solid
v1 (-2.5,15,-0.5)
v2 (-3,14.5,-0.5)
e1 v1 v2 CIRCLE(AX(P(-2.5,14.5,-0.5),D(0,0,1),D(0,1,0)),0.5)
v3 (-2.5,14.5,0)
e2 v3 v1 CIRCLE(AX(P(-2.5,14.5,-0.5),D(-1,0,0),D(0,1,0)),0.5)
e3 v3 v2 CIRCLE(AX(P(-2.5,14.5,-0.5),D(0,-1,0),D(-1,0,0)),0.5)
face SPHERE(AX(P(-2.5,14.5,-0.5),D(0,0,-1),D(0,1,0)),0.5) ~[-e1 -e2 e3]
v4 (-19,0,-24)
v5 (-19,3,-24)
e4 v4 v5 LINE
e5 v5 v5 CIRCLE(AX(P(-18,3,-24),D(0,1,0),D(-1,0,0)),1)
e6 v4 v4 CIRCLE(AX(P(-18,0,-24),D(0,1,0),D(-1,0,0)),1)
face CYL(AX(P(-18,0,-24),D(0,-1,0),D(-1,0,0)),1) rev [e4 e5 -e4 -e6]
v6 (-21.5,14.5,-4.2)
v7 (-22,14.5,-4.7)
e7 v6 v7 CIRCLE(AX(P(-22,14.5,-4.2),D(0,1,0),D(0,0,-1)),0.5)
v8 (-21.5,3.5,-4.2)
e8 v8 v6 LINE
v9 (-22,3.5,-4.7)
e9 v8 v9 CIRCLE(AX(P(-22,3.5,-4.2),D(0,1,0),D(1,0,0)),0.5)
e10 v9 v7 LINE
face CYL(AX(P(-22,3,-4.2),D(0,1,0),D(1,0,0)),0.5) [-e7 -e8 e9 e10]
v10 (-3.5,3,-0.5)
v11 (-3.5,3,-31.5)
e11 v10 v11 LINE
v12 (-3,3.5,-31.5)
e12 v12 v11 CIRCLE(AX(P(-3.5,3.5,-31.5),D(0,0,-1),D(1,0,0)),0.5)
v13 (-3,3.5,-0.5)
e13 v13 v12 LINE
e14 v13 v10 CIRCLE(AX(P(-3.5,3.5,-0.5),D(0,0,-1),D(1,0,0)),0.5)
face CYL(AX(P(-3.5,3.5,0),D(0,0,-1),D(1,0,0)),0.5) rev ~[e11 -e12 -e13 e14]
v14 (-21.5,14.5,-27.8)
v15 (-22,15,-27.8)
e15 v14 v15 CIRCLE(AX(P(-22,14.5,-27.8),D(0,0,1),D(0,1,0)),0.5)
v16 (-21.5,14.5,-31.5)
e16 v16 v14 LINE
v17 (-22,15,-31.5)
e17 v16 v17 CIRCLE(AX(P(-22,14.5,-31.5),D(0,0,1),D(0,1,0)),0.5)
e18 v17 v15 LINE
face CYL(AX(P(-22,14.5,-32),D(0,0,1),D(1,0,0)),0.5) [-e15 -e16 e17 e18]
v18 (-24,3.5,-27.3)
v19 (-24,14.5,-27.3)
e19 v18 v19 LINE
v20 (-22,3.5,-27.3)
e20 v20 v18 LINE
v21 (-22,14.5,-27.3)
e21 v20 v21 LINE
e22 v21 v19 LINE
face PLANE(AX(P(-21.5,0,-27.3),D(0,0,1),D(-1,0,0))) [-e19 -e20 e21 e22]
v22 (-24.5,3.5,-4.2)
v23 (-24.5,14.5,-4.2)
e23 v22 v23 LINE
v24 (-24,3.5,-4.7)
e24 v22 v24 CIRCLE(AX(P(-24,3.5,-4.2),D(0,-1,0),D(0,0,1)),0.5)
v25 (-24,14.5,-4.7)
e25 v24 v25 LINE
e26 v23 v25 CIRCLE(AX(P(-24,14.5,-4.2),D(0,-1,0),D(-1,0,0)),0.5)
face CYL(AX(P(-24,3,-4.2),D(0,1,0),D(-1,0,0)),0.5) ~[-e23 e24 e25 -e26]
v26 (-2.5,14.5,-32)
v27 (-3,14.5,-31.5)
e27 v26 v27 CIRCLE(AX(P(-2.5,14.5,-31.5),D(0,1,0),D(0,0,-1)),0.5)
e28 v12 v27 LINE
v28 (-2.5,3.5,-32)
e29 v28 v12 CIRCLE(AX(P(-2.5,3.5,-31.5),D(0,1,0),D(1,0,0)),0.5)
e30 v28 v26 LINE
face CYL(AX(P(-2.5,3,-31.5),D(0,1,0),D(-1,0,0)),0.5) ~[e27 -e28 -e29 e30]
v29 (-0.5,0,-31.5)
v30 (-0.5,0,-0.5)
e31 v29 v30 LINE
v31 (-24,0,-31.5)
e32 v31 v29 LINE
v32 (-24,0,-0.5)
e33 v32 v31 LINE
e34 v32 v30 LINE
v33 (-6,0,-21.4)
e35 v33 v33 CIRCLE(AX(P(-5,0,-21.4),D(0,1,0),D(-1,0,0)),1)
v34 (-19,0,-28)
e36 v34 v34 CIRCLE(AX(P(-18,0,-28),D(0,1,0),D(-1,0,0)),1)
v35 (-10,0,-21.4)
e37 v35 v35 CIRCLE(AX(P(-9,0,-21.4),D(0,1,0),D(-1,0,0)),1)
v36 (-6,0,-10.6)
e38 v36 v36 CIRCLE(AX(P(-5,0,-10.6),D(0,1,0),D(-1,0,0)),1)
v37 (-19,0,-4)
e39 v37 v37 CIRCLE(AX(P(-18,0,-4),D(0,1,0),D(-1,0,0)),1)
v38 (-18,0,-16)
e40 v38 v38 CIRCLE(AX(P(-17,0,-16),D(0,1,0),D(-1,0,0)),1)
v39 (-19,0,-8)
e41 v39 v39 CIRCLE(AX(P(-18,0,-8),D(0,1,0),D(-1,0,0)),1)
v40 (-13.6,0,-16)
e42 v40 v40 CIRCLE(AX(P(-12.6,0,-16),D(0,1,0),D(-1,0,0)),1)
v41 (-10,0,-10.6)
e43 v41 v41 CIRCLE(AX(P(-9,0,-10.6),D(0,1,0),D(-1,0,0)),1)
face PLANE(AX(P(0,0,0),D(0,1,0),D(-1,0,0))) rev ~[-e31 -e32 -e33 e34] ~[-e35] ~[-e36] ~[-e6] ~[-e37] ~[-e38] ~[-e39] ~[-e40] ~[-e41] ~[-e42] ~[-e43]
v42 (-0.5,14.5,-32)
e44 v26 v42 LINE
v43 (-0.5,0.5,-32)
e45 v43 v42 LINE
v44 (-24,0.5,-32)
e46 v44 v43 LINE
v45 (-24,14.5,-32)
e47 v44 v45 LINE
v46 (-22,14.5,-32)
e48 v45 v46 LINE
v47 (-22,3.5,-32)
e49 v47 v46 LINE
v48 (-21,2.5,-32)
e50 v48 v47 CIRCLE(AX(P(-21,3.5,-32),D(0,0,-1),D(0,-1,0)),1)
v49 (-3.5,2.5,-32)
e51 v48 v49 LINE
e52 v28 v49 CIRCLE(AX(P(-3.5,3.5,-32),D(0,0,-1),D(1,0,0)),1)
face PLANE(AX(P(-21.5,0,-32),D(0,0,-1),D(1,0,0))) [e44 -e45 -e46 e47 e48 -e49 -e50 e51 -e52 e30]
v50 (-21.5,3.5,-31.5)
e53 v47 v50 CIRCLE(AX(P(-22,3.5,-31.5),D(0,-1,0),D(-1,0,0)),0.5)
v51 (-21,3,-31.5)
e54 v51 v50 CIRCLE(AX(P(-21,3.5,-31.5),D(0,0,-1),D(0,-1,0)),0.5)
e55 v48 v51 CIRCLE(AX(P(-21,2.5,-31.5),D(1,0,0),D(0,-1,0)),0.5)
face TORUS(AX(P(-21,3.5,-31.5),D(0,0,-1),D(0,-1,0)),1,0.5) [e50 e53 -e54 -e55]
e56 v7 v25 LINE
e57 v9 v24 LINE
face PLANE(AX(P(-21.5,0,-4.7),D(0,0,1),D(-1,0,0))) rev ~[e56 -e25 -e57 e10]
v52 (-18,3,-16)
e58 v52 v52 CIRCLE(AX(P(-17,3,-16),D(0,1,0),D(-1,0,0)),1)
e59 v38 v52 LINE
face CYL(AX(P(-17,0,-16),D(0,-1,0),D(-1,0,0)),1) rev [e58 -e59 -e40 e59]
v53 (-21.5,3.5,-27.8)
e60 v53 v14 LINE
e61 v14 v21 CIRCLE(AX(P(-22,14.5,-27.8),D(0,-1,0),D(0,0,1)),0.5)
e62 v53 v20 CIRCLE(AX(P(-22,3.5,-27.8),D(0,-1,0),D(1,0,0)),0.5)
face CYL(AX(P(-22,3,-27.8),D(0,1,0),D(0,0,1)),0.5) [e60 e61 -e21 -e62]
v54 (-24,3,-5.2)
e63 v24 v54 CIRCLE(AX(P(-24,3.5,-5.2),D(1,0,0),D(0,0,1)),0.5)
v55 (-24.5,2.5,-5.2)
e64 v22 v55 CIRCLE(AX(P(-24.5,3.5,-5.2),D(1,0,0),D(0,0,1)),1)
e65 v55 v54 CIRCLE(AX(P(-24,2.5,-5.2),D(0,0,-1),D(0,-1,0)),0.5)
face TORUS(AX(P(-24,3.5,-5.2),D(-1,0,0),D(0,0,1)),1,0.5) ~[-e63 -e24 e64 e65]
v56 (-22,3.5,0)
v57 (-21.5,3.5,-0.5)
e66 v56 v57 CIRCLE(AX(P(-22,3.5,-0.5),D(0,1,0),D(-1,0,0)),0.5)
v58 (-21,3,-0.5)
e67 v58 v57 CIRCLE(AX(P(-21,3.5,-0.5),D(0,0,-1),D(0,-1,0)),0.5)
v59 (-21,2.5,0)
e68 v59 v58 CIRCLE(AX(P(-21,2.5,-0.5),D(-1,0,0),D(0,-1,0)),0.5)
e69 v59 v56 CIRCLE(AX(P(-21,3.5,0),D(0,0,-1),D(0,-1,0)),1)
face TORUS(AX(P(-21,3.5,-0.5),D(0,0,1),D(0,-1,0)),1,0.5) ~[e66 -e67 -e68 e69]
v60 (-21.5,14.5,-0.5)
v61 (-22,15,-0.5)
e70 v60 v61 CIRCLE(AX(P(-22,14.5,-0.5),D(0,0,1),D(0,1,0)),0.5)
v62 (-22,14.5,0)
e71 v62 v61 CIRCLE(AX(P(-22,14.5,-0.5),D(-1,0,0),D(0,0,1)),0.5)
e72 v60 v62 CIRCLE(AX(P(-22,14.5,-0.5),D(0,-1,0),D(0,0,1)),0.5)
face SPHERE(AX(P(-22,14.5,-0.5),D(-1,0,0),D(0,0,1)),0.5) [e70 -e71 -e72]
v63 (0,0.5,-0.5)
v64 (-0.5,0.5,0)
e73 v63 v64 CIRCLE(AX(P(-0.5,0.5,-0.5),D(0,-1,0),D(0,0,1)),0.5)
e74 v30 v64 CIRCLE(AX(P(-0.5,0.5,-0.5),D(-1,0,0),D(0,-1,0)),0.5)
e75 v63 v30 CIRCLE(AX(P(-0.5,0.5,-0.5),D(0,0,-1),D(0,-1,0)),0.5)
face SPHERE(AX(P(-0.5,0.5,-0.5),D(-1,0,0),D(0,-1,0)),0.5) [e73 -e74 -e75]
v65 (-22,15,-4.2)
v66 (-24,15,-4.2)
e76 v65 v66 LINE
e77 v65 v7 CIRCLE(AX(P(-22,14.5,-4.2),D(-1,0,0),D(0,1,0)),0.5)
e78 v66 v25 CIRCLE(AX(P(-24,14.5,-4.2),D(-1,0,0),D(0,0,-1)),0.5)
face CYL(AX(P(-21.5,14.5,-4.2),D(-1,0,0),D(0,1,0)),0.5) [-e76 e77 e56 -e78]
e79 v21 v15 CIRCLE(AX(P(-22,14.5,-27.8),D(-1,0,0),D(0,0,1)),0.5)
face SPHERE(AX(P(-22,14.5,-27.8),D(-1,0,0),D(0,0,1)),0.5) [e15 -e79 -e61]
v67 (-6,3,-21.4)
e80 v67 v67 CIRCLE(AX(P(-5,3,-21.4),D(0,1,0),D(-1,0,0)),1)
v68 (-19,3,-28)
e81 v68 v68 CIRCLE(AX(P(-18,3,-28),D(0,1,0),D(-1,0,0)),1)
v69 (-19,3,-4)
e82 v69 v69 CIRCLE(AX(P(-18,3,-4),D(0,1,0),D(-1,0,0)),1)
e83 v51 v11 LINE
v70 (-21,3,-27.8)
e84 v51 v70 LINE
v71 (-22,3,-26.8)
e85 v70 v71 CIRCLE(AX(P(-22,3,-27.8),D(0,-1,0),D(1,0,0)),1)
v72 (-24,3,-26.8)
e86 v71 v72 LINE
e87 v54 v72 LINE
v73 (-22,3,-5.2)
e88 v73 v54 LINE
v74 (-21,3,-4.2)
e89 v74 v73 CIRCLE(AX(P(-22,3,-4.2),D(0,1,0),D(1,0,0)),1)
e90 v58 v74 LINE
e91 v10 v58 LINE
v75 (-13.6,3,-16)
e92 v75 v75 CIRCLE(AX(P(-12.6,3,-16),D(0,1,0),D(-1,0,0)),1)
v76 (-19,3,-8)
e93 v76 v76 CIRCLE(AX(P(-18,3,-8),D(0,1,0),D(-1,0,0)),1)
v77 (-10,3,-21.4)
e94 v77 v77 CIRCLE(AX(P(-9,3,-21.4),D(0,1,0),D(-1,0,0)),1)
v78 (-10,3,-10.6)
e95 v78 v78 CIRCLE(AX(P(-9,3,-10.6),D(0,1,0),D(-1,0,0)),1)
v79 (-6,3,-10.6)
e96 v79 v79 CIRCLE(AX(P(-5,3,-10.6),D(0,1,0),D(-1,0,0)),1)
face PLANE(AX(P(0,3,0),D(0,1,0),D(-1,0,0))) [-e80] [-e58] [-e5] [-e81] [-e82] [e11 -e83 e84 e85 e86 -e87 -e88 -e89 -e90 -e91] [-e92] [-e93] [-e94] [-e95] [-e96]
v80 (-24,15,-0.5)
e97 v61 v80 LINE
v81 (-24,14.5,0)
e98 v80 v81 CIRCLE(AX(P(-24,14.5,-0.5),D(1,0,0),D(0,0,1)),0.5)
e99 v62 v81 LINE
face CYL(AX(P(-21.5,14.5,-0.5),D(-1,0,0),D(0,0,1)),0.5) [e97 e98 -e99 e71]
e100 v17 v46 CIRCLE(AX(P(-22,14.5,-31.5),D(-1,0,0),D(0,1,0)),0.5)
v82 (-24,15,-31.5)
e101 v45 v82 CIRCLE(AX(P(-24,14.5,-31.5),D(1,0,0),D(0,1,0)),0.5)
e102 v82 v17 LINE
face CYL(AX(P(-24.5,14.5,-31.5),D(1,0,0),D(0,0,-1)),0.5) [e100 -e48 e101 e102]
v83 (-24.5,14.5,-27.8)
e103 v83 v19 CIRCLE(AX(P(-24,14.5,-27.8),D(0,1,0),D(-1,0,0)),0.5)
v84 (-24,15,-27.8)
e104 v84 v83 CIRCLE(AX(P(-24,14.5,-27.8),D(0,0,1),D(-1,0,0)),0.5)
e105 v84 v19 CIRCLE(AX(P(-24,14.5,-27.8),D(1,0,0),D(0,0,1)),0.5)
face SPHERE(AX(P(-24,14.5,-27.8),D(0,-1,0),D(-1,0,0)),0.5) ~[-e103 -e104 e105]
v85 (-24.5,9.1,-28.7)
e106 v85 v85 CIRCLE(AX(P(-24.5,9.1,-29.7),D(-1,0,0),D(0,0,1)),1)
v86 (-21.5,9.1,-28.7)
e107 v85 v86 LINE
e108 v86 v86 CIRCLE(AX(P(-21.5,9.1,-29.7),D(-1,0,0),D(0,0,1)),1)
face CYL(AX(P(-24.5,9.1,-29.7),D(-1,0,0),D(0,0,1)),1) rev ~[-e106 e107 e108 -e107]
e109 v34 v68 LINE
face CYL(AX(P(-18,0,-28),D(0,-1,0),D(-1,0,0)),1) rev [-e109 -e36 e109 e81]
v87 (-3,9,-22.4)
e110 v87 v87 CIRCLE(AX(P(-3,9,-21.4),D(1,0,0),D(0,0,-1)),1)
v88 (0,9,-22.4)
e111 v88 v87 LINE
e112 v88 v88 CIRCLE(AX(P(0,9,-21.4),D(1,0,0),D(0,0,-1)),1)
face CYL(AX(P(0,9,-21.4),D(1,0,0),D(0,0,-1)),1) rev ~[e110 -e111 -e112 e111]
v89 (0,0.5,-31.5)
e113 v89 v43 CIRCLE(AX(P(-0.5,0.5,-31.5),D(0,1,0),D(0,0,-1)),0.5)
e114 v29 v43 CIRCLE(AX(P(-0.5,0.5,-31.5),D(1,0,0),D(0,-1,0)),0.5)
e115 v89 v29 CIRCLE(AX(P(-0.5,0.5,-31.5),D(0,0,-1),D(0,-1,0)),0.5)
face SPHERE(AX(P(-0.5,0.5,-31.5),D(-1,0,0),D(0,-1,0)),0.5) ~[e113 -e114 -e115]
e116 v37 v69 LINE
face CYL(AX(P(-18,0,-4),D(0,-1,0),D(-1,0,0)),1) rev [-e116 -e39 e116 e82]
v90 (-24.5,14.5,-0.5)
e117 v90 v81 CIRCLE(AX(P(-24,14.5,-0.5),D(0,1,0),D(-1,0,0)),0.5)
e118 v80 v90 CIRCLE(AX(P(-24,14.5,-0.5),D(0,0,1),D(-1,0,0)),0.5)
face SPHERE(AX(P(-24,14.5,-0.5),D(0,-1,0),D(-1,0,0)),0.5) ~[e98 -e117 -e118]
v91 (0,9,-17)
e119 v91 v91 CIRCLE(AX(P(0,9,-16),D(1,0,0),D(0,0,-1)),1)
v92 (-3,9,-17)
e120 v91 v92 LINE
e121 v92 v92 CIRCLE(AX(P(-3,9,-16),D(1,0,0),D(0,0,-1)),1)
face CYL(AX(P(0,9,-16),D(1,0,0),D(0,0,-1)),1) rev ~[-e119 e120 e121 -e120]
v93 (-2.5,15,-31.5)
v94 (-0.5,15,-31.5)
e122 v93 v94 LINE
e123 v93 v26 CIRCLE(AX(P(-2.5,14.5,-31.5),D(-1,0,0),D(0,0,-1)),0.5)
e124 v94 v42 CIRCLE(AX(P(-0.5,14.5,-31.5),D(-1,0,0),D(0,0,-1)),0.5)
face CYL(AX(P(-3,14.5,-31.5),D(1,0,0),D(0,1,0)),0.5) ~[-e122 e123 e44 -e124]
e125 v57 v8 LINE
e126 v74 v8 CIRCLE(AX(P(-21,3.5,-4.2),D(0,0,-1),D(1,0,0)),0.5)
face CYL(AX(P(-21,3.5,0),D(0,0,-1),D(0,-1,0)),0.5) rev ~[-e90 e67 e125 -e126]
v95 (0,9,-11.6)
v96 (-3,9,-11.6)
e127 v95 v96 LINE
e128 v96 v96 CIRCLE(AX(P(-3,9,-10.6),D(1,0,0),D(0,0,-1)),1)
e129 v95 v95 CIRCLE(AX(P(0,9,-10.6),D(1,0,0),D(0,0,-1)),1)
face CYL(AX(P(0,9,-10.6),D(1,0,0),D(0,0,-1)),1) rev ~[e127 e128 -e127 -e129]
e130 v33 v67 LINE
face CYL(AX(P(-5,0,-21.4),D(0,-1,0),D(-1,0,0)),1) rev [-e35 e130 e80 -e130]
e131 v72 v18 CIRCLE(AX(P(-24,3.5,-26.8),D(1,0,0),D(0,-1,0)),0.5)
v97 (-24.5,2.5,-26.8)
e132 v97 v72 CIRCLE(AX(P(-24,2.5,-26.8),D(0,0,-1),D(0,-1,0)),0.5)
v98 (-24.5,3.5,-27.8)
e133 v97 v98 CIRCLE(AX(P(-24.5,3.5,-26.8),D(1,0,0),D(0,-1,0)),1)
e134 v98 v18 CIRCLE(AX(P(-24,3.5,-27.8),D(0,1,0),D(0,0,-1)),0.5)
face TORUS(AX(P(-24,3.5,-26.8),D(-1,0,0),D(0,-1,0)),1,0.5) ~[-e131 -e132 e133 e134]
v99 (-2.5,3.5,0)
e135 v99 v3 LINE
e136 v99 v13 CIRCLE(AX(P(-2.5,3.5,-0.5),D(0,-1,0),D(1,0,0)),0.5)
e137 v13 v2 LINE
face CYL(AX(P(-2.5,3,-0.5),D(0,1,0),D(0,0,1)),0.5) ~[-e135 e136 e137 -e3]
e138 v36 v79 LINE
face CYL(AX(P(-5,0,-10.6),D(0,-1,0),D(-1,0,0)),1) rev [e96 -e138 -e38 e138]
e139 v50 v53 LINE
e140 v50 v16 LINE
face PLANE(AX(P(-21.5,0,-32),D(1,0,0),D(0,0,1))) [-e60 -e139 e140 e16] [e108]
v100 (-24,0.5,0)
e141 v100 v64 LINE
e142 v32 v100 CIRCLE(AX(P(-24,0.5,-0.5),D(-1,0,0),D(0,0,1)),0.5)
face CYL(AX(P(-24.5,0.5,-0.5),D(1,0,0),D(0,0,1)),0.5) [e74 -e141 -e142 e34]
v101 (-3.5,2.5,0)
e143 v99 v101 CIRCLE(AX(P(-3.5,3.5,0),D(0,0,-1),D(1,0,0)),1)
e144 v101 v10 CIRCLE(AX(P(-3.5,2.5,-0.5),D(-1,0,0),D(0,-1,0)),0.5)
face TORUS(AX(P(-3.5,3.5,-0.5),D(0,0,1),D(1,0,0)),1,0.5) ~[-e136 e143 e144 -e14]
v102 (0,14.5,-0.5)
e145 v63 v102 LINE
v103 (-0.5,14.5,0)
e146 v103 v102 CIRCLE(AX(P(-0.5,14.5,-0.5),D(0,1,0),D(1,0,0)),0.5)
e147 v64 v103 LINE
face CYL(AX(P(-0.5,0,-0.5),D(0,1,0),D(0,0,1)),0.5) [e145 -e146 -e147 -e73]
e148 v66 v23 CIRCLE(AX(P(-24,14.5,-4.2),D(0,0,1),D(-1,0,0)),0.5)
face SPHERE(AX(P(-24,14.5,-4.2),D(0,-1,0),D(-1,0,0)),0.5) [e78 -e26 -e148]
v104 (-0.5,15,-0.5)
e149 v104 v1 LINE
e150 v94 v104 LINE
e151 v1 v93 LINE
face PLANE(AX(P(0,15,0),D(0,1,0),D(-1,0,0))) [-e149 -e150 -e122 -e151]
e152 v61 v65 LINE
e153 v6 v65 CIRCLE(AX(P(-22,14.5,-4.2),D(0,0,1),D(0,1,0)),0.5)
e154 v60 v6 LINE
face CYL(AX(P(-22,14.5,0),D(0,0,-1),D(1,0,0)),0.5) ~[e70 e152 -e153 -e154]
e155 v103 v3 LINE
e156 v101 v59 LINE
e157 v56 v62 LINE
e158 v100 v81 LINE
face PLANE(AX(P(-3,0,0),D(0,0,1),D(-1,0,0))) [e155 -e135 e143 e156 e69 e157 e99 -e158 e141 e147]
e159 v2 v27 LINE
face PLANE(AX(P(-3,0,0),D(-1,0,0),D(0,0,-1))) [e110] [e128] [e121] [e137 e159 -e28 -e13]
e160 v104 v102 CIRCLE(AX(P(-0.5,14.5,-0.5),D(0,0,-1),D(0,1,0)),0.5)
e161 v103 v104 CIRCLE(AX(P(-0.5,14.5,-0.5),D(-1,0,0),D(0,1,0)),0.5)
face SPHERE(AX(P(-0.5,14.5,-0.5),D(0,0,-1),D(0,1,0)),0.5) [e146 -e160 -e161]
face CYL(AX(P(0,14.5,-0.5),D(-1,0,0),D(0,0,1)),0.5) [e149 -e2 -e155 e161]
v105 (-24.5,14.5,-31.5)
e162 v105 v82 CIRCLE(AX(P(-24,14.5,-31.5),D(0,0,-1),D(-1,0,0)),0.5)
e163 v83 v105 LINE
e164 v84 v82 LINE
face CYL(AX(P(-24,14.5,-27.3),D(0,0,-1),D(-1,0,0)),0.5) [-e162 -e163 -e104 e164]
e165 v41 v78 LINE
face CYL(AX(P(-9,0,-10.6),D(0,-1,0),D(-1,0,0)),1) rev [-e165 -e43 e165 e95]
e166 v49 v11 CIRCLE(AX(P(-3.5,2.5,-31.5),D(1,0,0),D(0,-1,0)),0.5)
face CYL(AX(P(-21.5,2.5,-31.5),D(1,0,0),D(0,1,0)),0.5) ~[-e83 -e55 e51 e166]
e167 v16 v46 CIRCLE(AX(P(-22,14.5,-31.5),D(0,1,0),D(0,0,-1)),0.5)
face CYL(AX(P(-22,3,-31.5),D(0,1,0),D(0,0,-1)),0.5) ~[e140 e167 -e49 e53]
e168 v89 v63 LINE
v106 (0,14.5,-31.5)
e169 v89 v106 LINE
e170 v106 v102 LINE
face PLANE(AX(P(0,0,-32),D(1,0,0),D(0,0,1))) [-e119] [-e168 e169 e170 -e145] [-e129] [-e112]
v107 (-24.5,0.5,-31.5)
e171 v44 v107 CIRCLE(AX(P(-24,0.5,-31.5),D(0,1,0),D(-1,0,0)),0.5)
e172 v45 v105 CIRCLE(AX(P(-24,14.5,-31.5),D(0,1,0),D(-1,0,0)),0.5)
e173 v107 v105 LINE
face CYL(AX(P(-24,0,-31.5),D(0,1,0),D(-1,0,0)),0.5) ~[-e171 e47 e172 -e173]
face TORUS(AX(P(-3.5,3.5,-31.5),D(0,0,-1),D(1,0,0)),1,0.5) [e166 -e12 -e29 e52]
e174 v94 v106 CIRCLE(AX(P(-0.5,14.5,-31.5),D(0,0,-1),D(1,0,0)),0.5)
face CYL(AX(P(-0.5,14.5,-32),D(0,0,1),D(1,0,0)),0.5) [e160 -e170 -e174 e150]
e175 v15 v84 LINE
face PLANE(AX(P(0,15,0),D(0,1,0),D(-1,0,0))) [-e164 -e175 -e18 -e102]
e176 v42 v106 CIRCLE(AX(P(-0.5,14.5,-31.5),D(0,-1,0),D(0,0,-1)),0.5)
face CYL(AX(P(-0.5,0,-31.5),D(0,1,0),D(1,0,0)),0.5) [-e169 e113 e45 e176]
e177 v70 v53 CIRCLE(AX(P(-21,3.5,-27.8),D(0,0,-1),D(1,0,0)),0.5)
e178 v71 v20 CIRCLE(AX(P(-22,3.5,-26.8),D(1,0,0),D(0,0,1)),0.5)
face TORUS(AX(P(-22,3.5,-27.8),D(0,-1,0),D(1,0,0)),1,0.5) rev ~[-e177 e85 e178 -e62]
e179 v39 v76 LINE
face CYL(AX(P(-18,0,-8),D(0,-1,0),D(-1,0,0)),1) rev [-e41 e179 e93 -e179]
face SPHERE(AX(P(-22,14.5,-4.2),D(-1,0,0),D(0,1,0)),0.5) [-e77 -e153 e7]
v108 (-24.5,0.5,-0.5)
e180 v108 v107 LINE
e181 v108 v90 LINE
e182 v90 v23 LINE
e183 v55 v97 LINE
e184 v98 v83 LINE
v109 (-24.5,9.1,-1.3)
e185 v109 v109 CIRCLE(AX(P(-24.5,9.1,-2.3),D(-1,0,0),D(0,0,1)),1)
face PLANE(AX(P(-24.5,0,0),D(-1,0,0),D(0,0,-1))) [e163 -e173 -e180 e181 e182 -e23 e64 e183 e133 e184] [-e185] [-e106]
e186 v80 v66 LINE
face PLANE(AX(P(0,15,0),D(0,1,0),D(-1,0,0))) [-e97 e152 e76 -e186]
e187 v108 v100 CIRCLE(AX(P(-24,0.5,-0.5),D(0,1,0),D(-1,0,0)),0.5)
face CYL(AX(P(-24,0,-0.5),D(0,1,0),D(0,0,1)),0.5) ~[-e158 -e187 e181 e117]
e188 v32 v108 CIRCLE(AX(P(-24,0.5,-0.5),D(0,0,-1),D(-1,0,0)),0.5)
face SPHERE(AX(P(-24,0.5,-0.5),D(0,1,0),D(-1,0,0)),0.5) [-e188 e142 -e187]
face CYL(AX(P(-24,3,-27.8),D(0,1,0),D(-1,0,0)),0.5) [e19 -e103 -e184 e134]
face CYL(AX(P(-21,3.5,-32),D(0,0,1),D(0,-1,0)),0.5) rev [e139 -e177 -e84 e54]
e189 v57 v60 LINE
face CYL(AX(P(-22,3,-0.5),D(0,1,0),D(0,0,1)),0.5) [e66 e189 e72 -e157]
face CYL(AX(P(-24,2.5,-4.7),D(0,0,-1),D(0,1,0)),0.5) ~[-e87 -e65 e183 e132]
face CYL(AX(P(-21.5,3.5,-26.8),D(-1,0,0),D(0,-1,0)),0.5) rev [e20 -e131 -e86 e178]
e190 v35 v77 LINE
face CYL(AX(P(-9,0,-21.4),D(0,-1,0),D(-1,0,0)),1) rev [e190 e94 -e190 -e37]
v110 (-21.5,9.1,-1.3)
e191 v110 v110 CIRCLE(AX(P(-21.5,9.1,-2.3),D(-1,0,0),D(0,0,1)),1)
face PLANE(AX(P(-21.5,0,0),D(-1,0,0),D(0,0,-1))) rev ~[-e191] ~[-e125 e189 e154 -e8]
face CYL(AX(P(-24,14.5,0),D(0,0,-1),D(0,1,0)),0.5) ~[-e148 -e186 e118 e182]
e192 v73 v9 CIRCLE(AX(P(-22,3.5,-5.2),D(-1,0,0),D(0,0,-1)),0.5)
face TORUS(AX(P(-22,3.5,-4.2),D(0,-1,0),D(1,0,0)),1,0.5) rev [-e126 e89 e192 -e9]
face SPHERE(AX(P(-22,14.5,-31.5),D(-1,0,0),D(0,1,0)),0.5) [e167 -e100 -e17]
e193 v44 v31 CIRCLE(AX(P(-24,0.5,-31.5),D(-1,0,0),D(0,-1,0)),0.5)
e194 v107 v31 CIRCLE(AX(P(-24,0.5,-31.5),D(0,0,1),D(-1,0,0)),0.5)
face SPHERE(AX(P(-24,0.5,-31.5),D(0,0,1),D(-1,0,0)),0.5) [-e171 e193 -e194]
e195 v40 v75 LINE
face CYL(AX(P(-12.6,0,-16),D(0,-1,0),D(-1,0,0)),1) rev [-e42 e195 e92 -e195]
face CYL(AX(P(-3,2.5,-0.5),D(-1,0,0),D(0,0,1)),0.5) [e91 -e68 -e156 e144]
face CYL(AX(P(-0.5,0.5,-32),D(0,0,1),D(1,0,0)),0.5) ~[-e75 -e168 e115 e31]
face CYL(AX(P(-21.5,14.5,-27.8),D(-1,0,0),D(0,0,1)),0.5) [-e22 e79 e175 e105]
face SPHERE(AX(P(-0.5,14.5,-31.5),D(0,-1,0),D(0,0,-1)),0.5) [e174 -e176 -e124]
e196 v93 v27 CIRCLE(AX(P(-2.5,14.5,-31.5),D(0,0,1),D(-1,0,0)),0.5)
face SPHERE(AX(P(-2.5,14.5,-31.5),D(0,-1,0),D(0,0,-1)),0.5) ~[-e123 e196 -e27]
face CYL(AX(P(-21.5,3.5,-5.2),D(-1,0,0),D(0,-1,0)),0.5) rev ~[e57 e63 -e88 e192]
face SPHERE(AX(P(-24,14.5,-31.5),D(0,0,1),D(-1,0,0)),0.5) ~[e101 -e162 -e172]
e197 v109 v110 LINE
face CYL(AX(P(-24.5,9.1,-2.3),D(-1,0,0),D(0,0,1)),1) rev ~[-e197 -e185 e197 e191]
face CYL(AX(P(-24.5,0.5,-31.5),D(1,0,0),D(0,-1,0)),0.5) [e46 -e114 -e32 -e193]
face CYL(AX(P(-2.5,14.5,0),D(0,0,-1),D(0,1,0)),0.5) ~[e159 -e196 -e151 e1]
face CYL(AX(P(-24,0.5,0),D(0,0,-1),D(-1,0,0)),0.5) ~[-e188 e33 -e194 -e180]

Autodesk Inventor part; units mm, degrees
ref_plane "YZ Plane" through (0, 0, 0) normal (1, 0, 0) x (0, 1, 0)
ref_plane "XZ Plane" through (0, 0, 0) normal (0, 1, 0) x (-1, 0, 0)
ref_plane "XY Plane" through (0, 0, 0) normal (0, 0, 1) x (1, 0, 0)
sketch "Sketch1" plane through (0, 0, 0) normal (0, 1, 0) x (-1, 0, 0)
  line L0 (0, 0) -> (24.5, 0)
  line L1 (24.5, 0) -> (24.5, -32)
  line L2 (24.5, -32) -> (0, -32)
  line L3 (0, -32) -> (0, 0)
  line L4 (24.5, 0) -> (21.5, 0)
  line L5 (21.5, 0) -> (21.5, -4.7)
  line L6 (21.5, -4.7) -> (24.5, -4.7)
  line L7 (24.5, -4.7) -> (24.5, 0)
  line L8 (24.5, -32) -> (21.5, -32)
  line L9 (21.5, -32) -> (21.5, -27.3)
  line L10 (21.5, -27.3) -> (24.5, -27.3)
  line L11 (24.5, -27.3) -> (24.5, -32)
  line L12 (0, 0) -> (3, 0)
  line L13 (3, 0) -> (3, -32)
  line L14 (3, -32) -> (0, -32)
  line L15 (0, -32) -> (0, 0)
  circle A0 centre (18, -4) radius 1
  circle A1 centre (18, -8) radius 1
  circle A2 centre (18, -24) radius 1
  circle A3 centre (18, -28) radius 1
  circle A4 centre (9, -10.6) radius 1
  circle A5 centre (5, -10.6) radius 1
  circle A6 centre (9, -21.4) radius 1
  circle A7 centre (5, -21.4) radius 1
  circle A8 centre (17, -16) radius 1
  circle A9 centre (12.6, -16) radius 1
  dimension "d0" = 24.5
  dimension "d1" = 32
  dimension "d2" = 3
  dimension "d3" = 4.7
  dimension "d4" = 4.7
  dimension "d5" = 3
  dimension "d6" = 2
  dimension "d7" = 2
  dimension "d8" = 2
  dimension "d9" = 2
  dimension "d10" = 2
  dimension "d11" = 2
  dimension "d12" = 2
  dimension "d13" = 2
  dimension "d14" = 2
  dimension "d15" = 2
  dimension "d16" = 4
  dimension "d17" = 4
  dimension "d18" = 4
  dimension "d19" = 4
  dimension "d20" = 18
  dimension "d21" = 18
  dimension "d22" = 18
  dimension "d23" = 18
  dimension "d24" = 5
  dimension "d25" = 4
  dimension "d26" = 5
  dimension "d27" = 4
  dimension "d28" = 10.6
  dimension "d29" = 10.6
  dimension "d30" = 10.6
  dimension "d31" = 10.6
  dimension "d32" = 16
  dimension "d33" = 16
  dimension "d34" = 4.4
  dimension "d35" = 12.6
  dimension "d36" = 3
extrude "Extrusion1" add sketch "Sketch1" along normal blind 3 contours L0 L5 L6 L1 L10 L9 L2 L13
extrude "Extrusion2" add sketch "Sketch1" along normal blind 15 contours L0 L13 L2 L3 | L0 L1 L6 L5 | L9 L10 L1 L2
sketch "Sketch2" plane through (-24.5, 0, -32) normal (-1, 0, 0) x (0, 0, 1)
  circle A0 centre (29.7, 9.1) radius 1
  circle A1 centre (2.3, 9.1) radius 1
  line L0 (27.3, 15) -> (32, 15) projected
  line L1 (0, 15) -> (4.7, 15) projected
  line L2 (32, 0) -> (32, 15) projected
  line L3 (0, 0) -> (0, 15) projected
  dimension "d41" = 2
  dimension "d42" = 2
  dimension "d43" = 5.9
  dimension "d44" = 5.9
  dimension "d45" = 2.3
  dimension "d46" = 2.3
extrude "Extrusion3" cut sketch "Sketch2" against normal blind 3
sketch "Sketch3" plane through (0, 0, 0) normal (1, 0, 0) x (0, 0, -1)
  circle A0 centre (10.6, 9) radius 1
  circle A1 centre (21.4, 9) radius 1
  line L0 (0, 15) -> (32, 15) projected
  line L1 (32, 0) -> (32, 15) projected
  line L2 (0, 0) -> (0, 15) projected
  circle A2 centre (16, 9) radius 1
  dimension "d51" = 2
  dimension "d52" = 2
  dimension "d53" = 6
  dimension "d54" = 10.6
  dimension "d55" = 6
  dimension "d56" = 10.6
  dimension "d60" = 2
  dimension "d61" = 6
  dimension "d62" = 16
extrude "Extrusion4" cut sketch "Sketch3" against normal blind 3 contours A0 | A1
fillet "Fillet3" radius 0.5 36 edges at (-24.5, 9, -4.7) (-24.5, 7.5, 0) (-24.5, 15, -2.35) (-24.5, 3, -16) (-24.5, 0, -16) (-24.5, 9, -27.3) (-24.5, 15, -29.65) (-24.5, 7.5, -32) (-12.25, 0, -32) (-12.25, 3, 0) (-23, 3, -4.7) (-23, 15, -4.7) (-23, 15, 0) (-23, 15, -27.3) (-23, 15, -32) (-23, 3, -27.3) (-12.25, 0, 0) (-21.5, 9, 0) (-21.5, 15, -2.35) (-21.5, 9, -27.3) (-21.5, 15, -29.65) (-21.5, 9, -32) (-21.5, 9, -4.7) (-21.5, 3, -2.35) (-21.5, 3, -29.65) (-12.25, 3, -32) (-3, 3, -16) (0, 0, -16) (-3, 9, -32) (0, 7.5, -32) (-1.5, 15, -32) (-3, 15, -16) (0, 15, -16) (-1.5, 15, 0) (-3, 9, 0) (0, 7.5, 0)
extrude "Extrusion5" cut sketch "Sketch3" against normal blind 3 contours A2
properties part number "holder"
